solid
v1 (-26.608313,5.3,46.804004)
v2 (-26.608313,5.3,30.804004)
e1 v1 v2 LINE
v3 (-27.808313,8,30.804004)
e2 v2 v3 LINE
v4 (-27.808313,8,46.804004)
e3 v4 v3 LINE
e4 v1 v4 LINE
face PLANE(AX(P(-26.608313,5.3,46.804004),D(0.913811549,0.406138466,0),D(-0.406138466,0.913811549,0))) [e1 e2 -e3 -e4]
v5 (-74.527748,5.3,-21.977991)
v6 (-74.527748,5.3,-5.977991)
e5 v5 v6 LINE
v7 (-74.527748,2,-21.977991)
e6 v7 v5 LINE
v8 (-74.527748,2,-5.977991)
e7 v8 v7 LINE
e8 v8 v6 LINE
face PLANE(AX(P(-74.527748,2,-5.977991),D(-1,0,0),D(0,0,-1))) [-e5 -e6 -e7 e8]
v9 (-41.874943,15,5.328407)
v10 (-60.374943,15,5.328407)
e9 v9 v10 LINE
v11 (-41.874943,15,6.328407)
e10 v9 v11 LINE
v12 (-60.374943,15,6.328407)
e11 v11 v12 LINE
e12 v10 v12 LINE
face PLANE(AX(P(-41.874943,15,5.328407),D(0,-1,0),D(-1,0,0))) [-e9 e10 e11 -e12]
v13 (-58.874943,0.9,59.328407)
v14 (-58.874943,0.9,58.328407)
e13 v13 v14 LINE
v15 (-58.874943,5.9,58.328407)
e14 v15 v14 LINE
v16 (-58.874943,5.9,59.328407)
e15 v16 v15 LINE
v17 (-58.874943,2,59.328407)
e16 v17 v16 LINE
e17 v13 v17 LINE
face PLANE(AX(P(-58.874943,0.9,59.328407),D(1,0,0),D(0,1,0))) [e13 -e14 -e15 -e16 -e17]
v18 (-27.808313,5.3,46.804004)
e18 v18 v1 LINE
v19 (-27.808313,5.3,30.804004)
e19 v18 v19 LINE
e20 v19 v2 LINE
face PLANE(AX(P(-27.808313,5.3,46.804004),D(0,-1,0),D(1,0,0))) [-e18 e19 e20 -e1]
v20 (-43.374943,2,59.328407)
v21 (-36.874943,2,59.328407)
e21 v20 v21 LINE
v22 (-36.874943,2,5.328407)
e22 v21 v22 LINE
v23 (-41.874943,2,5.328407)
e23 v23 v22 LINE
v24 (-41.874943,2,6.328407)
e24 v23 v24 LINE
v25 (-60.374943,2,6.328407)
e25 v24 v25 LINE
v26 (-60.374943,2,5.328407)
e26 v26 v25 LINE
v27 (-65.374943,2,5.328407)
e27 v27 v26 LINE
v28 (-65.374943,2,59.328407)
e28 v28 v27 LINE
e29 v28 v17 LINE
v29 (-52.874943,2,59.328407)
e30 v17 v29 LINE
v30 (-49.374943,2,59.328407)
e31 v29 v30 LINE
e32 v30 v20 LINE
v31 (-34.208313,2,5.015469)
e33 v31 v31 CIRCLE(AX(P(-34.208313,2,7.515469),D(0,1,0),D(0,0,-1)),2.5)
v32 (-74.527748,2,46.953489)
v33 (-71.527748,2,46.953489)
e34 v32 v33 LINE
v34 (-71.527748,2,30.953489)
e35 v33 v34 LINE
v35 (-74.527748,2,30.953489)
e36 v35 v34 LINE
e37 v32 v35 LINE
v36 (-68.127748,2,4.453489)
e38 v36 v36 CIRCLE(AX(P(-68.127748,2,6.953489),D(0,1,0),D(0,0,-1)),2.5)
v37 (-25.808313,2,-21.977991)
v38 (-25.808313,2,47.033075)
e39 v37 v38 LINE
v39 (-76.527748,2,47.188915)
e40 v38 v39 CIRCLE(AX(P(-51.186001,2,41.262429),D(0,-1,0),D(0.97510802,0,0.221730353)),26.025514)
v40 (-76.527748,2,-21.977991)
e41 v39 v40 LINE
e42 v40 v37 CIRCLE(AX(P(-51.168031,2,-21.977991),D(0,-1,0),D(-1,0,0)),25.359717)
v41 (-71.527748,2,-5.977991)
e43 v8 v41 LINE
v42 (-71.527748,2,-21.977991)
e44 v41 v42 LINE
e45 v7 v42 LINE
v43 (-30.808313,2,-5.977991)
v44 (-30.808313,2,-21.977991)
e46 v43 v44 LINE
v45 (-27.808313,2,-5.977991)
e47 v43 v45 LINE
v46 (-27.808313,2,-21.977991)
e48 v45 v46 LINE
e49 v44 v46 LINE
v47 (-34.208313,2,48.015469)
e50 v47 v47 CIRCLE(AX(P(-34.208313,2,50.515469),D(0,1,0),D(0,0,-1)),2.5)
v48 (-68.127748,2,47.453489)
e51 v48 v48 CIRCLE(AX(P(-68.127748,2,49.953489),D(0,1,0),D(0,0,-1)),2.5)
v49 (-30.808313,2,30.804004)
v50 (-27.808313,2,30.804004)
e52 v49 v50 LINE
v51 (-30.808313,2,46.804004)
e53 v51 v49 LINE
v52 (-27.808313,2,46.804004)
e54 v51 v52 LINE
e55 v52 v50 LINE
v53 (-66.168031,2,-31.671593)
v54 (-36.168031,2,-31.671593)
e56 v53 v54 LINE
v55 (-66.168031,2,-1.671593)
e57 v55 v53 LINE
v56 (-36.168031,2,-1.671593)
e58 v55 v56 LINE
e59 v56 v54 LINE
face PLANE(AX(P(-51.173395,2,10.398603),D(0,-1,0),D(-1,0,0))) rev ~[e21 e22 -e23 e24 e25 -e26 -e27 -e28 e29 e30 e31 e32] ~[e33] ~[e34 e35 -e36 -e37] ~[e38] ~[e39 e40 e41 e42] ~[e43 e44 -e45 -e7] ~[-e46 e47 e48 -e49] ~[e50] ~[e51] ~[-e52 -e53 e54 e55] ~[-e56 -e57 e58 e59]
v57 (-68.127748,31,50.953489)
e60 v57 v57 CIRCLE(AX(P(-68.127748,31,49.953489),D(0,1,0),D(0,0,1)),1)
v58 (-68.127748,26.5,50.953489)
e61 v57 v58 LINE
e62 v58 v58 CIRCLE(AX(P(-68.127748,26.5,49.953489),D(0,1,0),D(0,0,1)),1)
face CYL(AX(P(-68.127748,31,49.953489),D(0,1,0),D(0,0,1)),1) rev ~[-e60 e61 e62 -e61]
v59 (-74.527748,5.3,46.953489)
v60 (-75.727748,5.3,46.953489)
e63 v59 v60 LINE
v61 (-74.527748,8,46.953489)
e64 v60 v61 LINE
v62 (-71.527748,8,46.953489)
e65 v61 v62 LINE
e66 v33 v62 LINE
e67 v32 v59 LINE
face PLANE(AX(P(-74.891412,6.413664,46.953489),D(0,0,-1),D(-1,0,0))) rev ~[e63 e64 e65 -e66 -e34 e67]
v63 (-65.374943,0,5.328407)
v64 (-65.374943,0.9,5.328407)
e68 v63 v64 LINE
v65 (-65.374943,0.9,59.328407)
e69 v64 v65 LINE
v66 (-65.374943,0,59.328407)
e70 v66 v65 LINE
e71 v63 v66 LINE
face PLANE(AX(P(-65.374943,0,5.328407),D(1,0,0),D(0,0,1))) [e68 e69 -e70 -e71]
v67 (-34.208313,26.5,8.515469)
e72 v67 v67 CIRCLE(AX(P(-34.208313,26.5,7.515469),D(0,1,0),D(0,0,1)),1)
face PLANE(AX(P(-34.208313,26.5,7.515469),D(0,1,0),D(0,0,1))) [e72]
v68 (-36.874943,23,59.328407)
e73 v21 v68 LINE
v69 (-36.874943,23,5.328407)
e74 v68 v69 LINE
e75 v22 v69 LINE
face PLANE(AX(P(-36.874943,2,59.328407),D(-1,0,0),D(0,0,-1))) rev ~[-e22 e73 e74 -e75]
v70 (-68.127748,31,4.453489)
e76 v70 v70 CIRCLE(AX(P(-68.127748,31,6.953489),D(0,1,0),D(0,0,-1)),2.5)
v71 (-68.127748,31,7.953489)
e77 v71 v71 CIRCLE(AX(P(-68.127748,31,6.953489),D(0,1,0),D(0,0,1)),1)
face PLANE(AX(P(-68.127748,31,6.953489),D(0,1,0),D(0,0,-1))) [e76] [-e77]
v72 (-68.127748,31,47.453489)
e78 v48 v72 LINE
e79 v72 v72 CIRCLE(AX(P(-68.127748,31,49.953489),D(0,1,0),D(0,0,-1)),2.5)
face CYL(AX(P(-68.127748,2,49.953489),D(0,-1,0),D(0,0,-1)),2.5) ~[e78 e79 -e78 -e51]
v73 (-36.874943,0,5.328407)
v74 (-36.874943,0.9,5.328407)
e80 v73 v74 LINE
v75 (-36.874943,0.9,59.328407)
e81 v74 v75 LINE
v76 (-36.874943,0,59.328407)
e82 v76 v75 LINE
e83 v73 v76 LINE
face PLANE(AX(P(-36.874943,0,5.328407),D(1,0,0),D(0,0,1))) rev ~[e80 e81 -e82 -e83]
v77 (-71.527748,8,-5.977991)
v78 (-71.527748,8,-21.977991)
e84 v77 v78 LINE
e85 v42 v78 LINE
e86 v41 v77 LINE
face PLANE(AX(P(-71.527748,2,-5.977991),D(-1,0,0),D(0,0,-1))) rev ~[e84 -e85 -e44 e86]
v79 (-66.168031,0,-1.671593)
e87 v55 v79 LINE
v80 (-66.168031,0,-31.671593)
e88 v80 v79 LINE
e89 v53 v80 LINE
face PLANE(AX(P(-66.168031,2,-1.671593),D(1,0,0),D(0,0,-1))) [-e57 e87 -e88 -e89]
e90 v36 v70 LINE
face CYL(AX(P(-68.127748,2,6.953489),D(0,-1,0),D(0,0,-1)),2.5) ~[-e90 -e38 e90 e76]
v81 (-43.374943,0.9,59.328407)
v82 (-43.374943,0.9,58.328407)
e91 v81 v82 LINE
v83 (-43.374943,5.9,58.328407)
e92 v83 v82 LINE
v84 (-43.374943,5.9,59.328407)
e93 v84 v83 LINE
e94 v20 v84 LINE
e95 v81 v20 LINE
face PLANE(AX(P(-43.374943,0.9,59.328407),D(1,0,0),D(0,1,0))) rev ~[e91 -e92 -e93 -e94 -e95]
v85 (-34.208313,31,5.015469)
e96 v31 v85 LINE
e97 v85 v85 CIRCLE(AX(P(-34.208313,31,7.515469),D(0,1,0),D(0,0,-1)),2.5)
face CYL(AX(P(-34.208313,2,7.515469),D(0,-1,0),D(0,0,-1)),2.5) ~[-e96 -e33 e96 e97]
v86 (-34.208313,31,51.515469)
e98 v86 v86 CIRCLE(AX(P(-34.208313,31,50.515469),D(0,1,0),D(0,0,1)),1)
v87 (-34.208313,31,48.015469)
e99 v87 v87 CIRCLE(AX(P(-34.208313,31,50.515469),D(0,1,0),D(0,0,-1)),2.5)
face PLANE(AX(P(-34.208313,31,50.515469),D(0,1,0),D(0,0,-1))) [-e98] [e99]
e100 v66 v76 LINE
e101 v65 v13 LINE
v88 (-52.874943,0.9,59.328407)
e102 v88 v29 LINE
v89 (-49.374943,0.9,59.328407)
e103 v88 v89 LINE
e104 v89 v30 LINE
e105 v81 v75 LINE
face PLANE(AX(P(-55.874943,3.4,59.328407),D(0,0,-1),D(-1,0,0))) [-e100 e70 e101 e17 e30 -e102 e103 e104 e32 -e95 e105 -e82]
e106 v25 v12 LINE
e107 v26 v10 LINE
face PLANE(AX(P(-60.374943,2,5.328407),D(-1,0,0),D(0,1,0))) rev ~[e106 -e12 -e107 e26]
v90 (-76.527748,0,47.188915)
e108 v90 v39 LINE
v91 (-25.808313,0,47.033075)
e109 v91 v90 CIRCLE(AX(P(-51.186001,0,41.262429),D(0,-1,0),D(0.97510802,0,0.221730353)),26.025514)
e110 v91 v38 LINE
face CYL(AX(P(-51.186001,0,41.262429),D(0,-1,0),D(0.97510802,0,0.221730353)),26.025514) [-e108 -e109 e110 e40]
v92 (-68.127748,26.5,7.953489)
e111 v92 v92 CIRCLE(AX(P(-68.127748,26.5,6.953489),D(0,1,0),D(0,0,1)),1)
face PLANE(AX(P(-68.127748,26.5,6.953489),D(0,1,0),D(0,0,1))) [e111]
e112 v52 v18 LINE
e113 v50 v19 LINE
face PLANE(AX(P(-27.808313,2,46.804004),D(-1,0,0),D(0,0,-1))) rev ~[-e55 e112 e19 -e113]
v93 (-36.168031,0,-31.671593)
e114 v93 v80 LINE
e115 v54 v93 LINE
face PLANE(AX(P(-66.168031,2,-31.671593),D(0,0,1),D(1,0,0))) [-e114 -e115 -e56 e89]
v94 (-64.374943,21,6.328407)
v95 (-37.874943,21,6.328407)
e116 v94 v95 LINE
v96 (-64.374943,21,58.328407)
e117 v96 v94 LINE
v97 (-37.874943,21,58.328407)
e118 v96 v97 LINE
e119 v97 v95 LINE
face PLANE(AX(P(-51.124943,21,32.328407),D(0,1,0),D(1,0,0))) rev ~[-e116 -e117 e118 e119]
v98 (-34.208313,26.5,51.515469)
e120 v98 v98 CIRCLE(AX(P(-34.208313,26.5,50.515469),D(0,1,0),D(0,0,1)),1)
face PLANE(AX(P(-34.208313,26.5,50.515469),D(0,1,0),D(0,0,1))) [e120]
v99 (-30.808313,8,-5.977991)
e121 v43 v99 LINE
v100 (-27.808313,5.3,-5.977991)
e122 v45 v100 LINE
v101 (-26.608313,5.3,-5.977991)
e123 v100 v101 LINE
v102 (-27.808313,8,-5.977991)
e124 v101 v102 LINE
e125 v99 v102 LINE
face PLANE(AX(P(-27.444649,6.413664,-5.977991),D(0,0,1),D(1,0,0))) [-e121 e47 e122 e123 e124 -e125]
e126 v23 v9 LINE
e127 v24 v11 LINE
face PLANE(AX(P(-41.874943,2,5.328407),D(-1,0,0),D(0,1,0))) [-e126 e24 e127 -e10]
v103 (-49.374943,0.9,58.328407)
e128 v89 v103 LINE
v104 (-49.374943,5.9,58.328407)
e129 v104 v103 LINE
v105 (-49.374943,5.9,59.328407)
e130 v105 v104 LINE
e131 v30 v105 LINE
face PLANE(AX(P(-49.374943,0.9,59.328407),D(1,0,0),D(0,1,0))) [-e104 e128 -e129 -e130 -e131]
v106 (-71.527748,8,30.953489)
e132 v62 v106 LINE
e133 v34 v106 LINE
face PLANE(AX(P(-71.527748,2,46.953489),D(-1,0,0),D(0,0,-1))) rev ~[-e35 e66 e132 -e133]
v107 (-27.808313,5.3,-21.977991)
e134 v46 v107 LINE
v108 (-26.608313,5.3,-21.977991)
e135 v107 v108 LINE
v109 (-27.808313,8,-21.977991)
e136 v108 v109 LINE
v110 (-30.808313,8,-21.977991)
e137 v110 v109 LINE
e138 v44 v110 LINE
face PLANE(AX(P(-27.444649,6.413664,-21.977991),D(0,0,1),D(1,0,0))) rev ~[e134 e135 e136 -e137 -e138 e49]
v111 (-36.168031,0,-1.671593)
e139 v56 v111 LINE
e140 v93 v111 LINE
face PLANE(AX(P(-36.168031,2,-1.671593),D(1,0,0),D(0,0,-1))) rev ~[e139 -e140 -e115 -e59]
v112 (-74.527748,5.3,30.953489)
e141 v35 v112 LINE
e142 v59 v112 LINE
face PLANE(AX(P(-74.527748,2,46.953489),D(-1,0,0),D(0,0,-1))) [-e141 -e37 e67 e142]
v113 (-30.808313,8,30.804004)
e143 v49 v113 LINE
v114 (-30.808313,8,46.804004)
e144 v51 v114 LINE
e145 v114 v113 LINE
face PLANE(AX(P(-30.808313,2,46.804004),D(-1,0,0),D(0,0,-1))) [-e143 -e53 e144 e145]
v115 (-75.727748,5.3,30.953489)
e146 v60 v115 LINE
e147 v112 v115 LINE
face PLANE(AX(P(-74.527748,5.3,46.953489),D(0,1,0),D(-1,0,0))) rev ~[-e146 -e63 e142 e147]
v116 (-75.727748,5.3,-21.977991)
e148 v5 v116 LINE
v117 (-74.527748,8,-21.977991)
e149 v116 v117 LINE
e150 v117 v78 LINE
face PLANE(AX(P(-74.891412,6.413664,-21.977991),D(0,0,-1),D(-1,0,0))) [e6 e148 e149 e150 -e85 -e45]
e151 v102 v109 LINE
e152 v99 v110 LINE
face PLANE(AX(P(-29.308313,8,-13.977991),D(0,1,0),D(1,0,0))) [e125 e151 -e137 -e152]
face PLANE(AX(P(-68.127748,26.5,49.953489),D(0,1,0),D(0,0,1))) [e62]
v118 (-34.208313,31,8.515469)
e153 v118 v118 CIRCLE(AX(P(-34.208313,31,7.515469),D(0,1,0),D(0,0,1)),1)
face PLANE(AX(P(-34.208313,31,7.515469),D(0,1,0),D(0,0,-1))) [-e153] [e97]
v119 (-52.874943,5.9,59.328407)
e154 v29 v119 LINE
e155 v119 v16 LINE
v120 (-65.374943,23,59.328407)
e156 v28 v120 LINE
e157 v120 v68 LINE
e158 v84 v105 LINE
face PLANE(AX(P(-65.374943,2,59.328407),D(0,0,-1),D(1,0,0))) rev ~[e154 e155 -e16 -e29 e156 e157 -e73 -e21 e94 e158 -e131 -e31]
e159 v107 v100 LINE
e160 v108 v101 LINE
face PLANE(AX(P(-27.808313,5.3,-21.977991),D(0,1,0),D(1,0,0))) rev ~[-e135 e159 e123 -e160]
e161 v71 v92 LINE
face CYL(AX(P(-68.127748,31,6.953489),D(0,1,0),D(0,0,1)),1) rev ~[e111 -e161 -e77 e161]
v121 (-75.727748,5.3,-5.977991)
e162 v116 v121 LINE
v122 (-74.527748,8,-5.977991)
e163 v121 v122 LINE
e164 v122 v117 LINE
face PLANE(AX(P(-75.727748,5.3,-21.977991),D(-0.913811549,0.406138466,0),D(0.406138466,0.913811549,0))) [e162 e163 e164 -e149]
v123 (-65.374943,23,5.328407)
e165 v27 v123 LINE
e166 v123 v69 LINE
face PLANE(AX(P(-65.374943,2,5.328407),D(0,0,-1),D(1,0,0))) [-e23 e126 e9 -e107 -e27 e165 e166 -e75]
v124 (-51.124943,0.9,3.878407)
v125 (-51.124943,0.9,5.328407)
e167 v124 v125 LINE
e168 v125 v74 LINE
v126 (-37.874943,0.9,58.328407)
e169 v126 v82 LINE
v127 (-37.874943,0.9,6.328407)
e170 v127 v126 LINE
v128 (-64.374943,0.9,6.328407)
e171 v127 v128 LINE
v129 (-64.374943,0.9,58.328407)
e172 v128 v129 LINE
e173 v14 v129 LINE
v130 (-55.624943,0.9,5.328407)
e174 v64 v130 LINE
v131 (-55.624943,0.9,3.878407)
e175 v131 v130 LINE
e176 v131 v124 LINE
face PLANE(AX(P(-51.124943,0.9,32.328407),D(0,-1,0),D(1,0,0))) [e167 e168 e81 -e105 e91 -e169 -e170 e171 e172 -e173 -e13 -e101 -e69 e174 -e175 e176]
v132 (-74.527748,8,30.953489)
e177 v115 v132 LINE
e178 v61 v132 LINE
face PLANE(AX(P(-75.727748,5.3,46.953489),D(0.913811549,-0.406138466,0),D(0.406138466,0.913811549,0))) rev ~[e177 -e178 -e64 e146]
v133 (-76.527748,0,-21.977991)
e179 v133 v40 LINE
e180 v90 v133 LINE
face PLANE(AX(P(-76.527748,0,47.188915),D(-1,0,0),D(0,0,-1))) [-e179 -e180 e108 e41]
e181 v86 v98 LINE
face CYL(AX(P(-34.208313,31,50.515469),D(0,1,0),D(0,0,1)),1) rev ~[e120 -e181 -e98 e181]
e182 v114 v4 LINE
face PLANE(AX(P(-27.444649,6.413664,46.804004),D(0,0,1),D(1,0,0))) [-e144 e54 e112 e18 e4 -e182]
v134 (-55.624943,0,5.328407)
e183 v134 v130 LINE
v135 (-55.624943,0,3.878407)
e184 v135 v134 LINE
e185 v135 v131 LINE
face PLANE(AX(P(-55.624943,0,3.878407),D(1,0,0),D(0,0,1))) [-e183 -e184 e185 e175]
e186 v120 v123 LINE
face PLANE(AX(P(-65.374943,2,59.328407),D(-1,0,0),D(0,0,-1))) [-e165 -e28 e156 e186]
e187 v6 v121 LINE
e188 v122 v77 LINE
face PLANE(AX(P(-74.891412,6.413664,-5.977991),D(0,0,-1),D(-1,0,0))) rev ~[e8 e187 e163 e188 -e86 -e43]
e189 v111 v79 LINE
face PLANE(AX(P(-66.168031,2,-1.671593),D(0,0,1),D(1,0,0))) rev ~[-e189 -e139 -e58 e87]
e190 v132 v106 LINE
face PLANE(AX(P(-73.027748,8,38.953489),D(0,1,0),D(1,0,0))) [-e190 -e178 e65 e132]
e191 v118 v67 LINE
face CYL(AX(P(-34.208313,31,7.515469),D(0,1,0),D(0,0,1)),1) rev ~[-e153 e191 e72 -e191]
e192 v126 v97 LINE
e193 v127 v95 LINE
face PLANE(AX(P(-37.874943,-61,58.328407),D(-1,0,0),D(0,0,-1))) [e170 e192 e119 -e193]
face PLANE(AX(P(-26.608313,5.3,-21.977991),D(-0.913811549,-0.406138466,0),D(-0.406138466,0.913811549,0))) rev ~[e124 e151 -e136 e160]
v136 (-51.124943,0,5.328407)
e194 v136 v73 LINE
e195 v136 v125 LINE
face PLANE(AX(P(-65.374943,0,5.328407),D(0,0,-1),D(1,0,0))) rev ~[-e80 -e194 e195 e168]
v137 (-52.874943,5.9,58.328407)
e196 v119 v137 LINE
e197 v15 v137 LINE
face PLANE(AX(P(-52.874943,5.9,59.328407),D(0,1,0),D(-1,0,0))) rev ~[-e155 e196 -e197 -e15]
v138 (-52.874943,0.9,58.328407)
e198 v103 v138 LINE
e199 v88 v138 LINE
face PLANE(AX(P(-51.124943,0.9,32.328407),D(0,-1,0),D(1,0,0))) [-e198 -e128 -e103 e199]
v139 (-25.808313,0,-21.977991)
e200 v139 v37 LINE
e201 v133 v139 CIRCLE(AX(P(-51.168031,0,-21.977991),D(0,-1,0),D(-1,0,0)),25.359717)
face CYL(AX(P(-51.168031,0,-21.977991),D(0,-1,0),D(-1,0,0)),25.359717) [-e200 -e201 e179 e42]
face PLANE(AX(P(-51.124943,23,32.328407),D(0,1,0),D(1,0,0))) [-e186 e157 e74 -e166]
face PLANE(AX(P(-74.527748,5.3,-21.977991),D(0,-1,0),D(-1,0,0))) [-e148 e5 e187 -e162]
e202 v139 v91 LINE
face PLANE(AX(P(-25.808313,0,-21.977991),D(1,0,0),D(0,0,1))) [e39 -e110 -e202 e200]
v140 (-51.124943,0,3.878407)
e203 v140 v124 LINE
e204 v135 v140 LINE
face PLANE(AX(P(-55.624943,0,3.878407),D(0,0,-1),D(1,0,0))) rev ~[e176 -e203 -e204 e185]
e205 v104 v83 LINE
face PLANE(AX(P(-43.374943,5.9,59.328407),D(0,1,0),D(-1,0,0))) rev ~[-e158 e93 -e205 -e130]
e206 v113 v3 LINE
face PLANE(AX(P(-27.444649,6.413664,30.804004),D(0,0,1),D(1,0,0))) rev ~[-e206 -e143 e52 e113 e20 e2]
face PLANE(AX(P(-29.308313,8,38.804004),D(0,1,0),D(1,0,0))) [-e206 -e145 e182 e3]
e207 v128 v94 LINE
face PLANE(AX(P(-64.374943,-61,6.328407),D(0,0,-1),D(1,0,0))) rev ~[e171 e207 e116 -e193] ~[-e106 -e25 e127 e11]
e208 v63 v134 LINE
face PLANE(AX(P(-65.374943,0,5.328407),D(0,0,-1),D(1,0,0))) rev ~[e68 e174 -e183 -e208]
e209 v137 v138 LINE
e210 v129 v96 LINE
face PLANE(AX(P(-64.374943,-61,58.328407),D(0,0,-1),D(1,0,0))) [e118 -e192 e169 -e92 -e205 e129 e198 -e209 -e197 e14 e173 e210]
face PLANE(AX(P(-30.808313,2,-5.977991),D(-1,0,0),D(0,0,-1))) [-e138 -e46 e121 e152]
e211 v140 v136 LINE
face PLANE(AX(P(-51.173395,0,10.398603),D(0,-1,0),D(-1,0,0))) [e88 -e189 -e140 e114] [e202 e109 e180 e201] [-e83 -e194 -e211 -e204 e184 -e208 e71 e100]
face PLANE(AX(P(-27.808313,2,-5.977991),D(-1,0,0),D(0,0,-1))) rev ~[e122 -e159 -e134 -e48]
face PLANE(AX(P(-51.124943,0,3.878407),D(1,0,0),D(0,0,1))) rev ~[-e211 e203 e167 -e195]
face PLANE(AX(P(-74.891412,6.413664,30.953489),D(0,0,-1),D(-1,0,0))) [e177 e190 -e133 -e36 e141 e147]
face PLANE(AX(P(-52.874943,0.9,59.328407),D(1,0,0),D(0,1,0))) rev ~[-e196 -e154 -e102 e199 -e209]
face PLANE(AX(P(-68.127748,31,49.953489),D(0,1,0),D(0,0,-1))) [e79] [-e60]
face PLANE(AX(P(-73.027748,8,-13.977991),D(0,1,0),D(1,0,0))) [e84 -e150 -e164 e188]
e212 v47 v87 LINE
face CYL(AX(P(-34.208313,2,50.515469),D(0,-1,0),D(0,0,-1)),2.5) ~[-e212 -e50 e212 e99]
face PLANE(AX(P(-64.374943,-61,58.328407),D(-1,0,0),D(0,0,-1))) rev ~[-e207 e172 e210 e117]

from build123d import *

# Parameters (mm, degrees)
SALIENTE_EXTRUIR1_DEPTH    = 2
CROQUIS3_W                 = 28.5
CROQUIS3_H                 = 54
SALIENTE_EXTRUIR2_DEPTH    = 21
CORTAR_EXTRUIR2_DEPTH      = 21
CORTAR_EXTRUIR2_DEPTH_BACK = 61
CORTAR_EXTRUIR2_START      = -23
CROQUIS7_W                 = 26.5
CROQUIS7_H                 = 52
CROQUIS10_W                = 18.5
CROQUIS10_H                = 13
CORTAR_EXTRUIR3_DEPTH      = 10
CROQUIS11_W                = 28.5
CROQUIS11_H                = 54
CORTAR_EXTRUIR4_DEPTH      = 0.9
CROQUIS12_W                = 30
CROQUIS12_H                = 30
CORTAR_EXTRUIR6_DEPTH      = 20.6
CROQUIS13_W                = 3
CROQUIS13_H                = 16
SALIENTE_EXTRUIR5_DEPTH    = 6
SALIENTE_EXTRUIR9_DEPTH    = 16
SALIENTE_EXTRUIR10_DEPTH   = 16
SALIENTE_EXTRUIR11_DEPTH   = 16
SALIENTE_EXTRUIR12_DEPTH   = 16
CROQUIS25_W                = 4.5
CROQUIS25_H                = 1.45
CORTAR_EXTRUIR7_DEPTH      = 0.9
CORTAR_EXTRUIR9_DEPTH      = 0.9
CORTAR_EXTRUIR9_DEPTH_BACK = 1
CROQUIS26_W                = 6
CROQUIS26_H                = 5
CROQUIS32_R                = 2.5
SALIENTE_EXTRUIR13_DEPTH   = 29
CROQUIS36_R                = 1
CORTAR_EXTRUIR10_DEPTH     = 4.5
CROQUIS39_R                = 1
CORTAR_EXTRUIR11_DEPTH     = 4.5
CROQUIS38_R                = 1
CORTAR_EXTRUIR12_DEPTH     = 4.5
CROQUIS37_R                = 1
CORTAR_EXTRUIR13_DEPTH     = 4.5


with BuildPart() as part:
    # Croquis1 → Saliente-Extruir1 (new body)
    with BuildSketch(Plane(origin=(0, 0, 0), x_dir=(1, 0, 0), z_dir=(0, 1, 0))):
        with BuildLine():
            Line((-76.52774776, -47.188914739), (-76.52774776, 21.977990865))
            ThreePointArc((-76.52774776, 21.977990865), (-51.168030611, 47.337708015), (-25.808313462, 21.977990865))
            Line((-25.808313462, 21.977990865), (-25.808313462, -47.033075243))
            ThreePointArc((-25.808313462, -47.033075243), (-51.106035712, -67.287819919), (-76.52774776, -47.188914739))
        make_face()
    extrude(amount=SALIENTE_EXTRUIR1_DEPTH)

    # Croquis3 → Saliente-Extruir2 (add)
    with BuildSketch(Plane(origin=(0, 2, 0), x_dir=(1, 0, 0), z_dir=(0, 1, 0))):
        with Locations((-51.124943413, -32.32840731)):
            Rectangle(CROQUIS3_W, CROQUIS3_H)
    extrude(amount=SALIENTE_EXTRUIR2_DEPTH)

    # Croquis7 → Cortar-Extruir2 (cut, two sides: drawn at the far end of the back side and taken through both)
    with BuildSketch(Plane(origin=(0, 23, 0), x_dir=(1, 0, 0), z_dir=(0, 1, 0)).offset(CORTAR_EXTRUIR2_START - CORTAR_EXTRUIR2_DEPTH_BACK)):
        with Locations((-51.124943413, -32.32840731)):
            Rectangle(CROQUIS7_W, CROQUIS7_H)
    extrude(amount=CORTAR_EXTRUIR2_DEPTH + CORTAR_EXTRUIR2_DEPTH_BACK, mode=Mode.SUBTRACT)

    # Croquis10 → Cortar-Extruir3 (cut)
    with BuildSketch(Plane(origin=(0, 0, 5.32840731), x_dir=(-1, 0, 0), z_dir=(0, 0, -1))):
        with Locations((51.124943413, 8.5)):
            Rectangle(CROQUIS10_W, CROQUIS10_H)
    extrude(amount=-CORTAR_EXTRUIR3_DEPTH, mode=Mode.SUBTRACT)

    # Croquis11 → Cortar-Extruir4 (cut)
    with BuildSketch(Plane.XZ):
        with Locations((-51.124943413, 32.32840731)):
            Rectangle(CROQUIS11_W, CROQUIS11_H)
    extrude(amount=-CORTAR_EXTRUIR4_DEPTH, mode=Mode.SUBTRACT)

    # Croquis12 → Cortar-Extruir6 (cut)
    with BuildSketch(Plane(origin=(0, 2, 0), x_dir=(1, 0, 0), z_dir=(0, 1, 0))):
        with Locations((-51.168030611, 16.67159269)):
            Rectangle(CROQUIS12_W, CROQUIS12_H)
    extrude(amount=-CORTAR_EXTRUIR6_DEPTH, mode=Mode.SUBTRACT)

    # Croquis13 → Saliente-Extruir5 (add)
    with BuildSketch(Plane(origin=(0, 2, 0), x_dir=(1, 0, 0), z_dir=(0, 1, 0))):
        with Locations((-29.308313462, -38.804003852)):
            Rectangle(CROQUIS13_W, CROQUIS13_H)
        with Locations((-73.02774776, -38.95348914)):
            Rectangle(CROQUIS13_W, CROQUIS13_H)
        with Locations((-73.02774776, 13.977990865)):
            Rectangle(CROQUIS13_W, CROQUIS13_H)
        with Locations((-29.308313462, 13.977990865)):
            Rectangle(CROQUIS13_W, CROQUIS13_H)
    extrude(amount=SALIENTE_EXTRUIR5_DEPTH)

    # Croquis18 → Saliente-Extruir9 (add)
    with BuildSketch(Plane.XY.offset(46.804003852)):
        Polygon((-27.808313462, 8), (-27.808313462, 5.3), (-26.608313462, 5.3), align=None)
    extrude(amount=-SALIENTE_EXTRUIR9_DEPTH)

    # Croquis21 → Saliente-Extruir10 (add)
    with BuildSketch(Plane.XY.offset(46.95348914)):
        Polygon((-74.52774776, 8), (-74.52774776, 5.3), (-75.72774776, 5.3), align=None)
    extrude(amount=-SALIENTE_EXTRUIR10_DEPTH)

    # Croquis22 → Saliente-Extruir11 (add)
    with BuildSketch(Plane(origin=(0, 0, -21.977990865), x_dir=(-1, 0, 0), z_dir=(0, 0, -1))):
        Polygon((27.808313462, 8), (27.808313462, 5.3), (26.608313462, 5.3), align=None)
    extrude(amount=-SALIENTE_EXTRUIR11_DEPTH)

    # Croquis23 → Saliente-Extruir12 (add)
    with BuildSketch(Plane(origin=(0, 0, -21.977990865), x_dir=(-1, 0, 0), z_dir=(0, 0, -1))):
        Polygon((74.52774776, 8), (74.52774776, 5.3), (75.72774776, 5.3), align=None)
    extrude(amount=-SALIENTE_EXTRUIR12_DEPTH)

    # Croquis25 → Cortar-Extruir7 (cut)
    with BuildSketch(Plane.XZ):
        with Locations((-53.374943413, 4.60340731)):
            Rectangle(CROQUIS25_W, CROQUIS25_H)
    extrude(amount=-CORTAR_EXTRUIR7_DEPTH, mode=Mode.SUBTRACT)

    # Croquis26 → Cortar-Extruir9 (cut, two sides: drawn at the far end of the back side and taken through both)
    with BuildSketch(Plane(origin=(0, 0, 58.32840731), x_dir=(-1, 0, 0), z_dir=(0, 0, -1)).offset(-CORTAR_EXTRUIR9_DEPTH_BACK)):
        with Locations((55.874943413, 3.4)):
            Rectangle(CROQUIS26_W, CROQUIS26_H)
        with Locations((46.374943413, 3.4)):
            Rectangle(CROQUIS26_W, CROQUIS26_H)
    extrude(amount=CORTAR_EXTRUIR9_DEPTH + CORTAR_EXTRUIR9_DEPTH_BACK, mode=Mode.SUBTRACT)

    # Croquis32 → Saliente-Extruir13 (add)
    with BuildSketch(Plane(origin=(0, 2, 0), x_dir=(1, 0, 0), z_dir=(0, 1, 0))):
        with Locations(Location((-68.12774776, -49.95348914, 0), (0, 0, 90))):
            Circle(CROQUIS32_R)
        with Locations(Location((-68.12774776, -6.95348914, 0), (0, 0, 90))):
            Circle(CROQUIS32_R)
        with Locations(Location((-34.208313462, -50.515469487, 0), (0, 0, 90))):
            Circle(CROQUIS32_R)
        with Locations(Location((-34.208313462, -7.515469487, 0), (0, 0, 90))):
            Circle(CROQUIS32_R)
    extrude(amount=SALIENTE_EXTRUIR13_DEPTH)

    # Croquis36 → Cortar-Extruir10 (cut)
    with BuildSketch(Plane(origin=(0, 31, 0), x_dir=(1, 0, 0), z_dir=(0, 1, 0))):
        with Locations(Location((-68.12774776, -6.95348914, 0), (0, 0, 270))):
            Circle(CROQUIS36_R)
    extrude(amount=-CORTAR_EXTRUIR10_DEPTH, mode=Mode.SUBTRACT)

    # Croquis39 → Cortar-Extruir11 (cut)
    with BuildSketch(Plane(origin=(0, 31, 0), x_dir=(1, 0, 0), z_dir=(0, 1, 0))):
        with Locations(Location((-68.12774776, -49.95348914, 0), (0, 0, 270))):
            Circle(CROQUIS39_R)
    extrude(amount=-CORTAR_EXTRUIR11_DEPTH, mode=Mode.SUBTRACT)

    # Croquis38 → Cortar-Extruir12 (cut)
    with BuildSketch(Plane(origin=(0, 31, 0), x_dir=(1, 0, 0), z_dir=(0, 1, 0))):
        with Locations(Location((-34.208313462, -50.515469487, 0), (0, 0, 270))):
            Circle(CROQUIS38_R)
    extrude(amount=-CORTAR_EXTRUIR12_DEPTH, mode=Mode.SUBTRACT)

    # Croquis37 → Cortar-Extruir13 (cut)
    with BuildSketch(Plane(origin=(0, 31, 0), x_dir=(1, 0, 0), z_dir=(0, 1, 0))):
        with Locations(Location((-34.208313462, -7.515469487, 0), (0, 0, 270))):
            Circle(CROQUIS37_R)
    extrude(amount=-CORTAR_EXTRUIR13_DEPTH, mode=Mode.SUBTRACT)


solid = part.part
